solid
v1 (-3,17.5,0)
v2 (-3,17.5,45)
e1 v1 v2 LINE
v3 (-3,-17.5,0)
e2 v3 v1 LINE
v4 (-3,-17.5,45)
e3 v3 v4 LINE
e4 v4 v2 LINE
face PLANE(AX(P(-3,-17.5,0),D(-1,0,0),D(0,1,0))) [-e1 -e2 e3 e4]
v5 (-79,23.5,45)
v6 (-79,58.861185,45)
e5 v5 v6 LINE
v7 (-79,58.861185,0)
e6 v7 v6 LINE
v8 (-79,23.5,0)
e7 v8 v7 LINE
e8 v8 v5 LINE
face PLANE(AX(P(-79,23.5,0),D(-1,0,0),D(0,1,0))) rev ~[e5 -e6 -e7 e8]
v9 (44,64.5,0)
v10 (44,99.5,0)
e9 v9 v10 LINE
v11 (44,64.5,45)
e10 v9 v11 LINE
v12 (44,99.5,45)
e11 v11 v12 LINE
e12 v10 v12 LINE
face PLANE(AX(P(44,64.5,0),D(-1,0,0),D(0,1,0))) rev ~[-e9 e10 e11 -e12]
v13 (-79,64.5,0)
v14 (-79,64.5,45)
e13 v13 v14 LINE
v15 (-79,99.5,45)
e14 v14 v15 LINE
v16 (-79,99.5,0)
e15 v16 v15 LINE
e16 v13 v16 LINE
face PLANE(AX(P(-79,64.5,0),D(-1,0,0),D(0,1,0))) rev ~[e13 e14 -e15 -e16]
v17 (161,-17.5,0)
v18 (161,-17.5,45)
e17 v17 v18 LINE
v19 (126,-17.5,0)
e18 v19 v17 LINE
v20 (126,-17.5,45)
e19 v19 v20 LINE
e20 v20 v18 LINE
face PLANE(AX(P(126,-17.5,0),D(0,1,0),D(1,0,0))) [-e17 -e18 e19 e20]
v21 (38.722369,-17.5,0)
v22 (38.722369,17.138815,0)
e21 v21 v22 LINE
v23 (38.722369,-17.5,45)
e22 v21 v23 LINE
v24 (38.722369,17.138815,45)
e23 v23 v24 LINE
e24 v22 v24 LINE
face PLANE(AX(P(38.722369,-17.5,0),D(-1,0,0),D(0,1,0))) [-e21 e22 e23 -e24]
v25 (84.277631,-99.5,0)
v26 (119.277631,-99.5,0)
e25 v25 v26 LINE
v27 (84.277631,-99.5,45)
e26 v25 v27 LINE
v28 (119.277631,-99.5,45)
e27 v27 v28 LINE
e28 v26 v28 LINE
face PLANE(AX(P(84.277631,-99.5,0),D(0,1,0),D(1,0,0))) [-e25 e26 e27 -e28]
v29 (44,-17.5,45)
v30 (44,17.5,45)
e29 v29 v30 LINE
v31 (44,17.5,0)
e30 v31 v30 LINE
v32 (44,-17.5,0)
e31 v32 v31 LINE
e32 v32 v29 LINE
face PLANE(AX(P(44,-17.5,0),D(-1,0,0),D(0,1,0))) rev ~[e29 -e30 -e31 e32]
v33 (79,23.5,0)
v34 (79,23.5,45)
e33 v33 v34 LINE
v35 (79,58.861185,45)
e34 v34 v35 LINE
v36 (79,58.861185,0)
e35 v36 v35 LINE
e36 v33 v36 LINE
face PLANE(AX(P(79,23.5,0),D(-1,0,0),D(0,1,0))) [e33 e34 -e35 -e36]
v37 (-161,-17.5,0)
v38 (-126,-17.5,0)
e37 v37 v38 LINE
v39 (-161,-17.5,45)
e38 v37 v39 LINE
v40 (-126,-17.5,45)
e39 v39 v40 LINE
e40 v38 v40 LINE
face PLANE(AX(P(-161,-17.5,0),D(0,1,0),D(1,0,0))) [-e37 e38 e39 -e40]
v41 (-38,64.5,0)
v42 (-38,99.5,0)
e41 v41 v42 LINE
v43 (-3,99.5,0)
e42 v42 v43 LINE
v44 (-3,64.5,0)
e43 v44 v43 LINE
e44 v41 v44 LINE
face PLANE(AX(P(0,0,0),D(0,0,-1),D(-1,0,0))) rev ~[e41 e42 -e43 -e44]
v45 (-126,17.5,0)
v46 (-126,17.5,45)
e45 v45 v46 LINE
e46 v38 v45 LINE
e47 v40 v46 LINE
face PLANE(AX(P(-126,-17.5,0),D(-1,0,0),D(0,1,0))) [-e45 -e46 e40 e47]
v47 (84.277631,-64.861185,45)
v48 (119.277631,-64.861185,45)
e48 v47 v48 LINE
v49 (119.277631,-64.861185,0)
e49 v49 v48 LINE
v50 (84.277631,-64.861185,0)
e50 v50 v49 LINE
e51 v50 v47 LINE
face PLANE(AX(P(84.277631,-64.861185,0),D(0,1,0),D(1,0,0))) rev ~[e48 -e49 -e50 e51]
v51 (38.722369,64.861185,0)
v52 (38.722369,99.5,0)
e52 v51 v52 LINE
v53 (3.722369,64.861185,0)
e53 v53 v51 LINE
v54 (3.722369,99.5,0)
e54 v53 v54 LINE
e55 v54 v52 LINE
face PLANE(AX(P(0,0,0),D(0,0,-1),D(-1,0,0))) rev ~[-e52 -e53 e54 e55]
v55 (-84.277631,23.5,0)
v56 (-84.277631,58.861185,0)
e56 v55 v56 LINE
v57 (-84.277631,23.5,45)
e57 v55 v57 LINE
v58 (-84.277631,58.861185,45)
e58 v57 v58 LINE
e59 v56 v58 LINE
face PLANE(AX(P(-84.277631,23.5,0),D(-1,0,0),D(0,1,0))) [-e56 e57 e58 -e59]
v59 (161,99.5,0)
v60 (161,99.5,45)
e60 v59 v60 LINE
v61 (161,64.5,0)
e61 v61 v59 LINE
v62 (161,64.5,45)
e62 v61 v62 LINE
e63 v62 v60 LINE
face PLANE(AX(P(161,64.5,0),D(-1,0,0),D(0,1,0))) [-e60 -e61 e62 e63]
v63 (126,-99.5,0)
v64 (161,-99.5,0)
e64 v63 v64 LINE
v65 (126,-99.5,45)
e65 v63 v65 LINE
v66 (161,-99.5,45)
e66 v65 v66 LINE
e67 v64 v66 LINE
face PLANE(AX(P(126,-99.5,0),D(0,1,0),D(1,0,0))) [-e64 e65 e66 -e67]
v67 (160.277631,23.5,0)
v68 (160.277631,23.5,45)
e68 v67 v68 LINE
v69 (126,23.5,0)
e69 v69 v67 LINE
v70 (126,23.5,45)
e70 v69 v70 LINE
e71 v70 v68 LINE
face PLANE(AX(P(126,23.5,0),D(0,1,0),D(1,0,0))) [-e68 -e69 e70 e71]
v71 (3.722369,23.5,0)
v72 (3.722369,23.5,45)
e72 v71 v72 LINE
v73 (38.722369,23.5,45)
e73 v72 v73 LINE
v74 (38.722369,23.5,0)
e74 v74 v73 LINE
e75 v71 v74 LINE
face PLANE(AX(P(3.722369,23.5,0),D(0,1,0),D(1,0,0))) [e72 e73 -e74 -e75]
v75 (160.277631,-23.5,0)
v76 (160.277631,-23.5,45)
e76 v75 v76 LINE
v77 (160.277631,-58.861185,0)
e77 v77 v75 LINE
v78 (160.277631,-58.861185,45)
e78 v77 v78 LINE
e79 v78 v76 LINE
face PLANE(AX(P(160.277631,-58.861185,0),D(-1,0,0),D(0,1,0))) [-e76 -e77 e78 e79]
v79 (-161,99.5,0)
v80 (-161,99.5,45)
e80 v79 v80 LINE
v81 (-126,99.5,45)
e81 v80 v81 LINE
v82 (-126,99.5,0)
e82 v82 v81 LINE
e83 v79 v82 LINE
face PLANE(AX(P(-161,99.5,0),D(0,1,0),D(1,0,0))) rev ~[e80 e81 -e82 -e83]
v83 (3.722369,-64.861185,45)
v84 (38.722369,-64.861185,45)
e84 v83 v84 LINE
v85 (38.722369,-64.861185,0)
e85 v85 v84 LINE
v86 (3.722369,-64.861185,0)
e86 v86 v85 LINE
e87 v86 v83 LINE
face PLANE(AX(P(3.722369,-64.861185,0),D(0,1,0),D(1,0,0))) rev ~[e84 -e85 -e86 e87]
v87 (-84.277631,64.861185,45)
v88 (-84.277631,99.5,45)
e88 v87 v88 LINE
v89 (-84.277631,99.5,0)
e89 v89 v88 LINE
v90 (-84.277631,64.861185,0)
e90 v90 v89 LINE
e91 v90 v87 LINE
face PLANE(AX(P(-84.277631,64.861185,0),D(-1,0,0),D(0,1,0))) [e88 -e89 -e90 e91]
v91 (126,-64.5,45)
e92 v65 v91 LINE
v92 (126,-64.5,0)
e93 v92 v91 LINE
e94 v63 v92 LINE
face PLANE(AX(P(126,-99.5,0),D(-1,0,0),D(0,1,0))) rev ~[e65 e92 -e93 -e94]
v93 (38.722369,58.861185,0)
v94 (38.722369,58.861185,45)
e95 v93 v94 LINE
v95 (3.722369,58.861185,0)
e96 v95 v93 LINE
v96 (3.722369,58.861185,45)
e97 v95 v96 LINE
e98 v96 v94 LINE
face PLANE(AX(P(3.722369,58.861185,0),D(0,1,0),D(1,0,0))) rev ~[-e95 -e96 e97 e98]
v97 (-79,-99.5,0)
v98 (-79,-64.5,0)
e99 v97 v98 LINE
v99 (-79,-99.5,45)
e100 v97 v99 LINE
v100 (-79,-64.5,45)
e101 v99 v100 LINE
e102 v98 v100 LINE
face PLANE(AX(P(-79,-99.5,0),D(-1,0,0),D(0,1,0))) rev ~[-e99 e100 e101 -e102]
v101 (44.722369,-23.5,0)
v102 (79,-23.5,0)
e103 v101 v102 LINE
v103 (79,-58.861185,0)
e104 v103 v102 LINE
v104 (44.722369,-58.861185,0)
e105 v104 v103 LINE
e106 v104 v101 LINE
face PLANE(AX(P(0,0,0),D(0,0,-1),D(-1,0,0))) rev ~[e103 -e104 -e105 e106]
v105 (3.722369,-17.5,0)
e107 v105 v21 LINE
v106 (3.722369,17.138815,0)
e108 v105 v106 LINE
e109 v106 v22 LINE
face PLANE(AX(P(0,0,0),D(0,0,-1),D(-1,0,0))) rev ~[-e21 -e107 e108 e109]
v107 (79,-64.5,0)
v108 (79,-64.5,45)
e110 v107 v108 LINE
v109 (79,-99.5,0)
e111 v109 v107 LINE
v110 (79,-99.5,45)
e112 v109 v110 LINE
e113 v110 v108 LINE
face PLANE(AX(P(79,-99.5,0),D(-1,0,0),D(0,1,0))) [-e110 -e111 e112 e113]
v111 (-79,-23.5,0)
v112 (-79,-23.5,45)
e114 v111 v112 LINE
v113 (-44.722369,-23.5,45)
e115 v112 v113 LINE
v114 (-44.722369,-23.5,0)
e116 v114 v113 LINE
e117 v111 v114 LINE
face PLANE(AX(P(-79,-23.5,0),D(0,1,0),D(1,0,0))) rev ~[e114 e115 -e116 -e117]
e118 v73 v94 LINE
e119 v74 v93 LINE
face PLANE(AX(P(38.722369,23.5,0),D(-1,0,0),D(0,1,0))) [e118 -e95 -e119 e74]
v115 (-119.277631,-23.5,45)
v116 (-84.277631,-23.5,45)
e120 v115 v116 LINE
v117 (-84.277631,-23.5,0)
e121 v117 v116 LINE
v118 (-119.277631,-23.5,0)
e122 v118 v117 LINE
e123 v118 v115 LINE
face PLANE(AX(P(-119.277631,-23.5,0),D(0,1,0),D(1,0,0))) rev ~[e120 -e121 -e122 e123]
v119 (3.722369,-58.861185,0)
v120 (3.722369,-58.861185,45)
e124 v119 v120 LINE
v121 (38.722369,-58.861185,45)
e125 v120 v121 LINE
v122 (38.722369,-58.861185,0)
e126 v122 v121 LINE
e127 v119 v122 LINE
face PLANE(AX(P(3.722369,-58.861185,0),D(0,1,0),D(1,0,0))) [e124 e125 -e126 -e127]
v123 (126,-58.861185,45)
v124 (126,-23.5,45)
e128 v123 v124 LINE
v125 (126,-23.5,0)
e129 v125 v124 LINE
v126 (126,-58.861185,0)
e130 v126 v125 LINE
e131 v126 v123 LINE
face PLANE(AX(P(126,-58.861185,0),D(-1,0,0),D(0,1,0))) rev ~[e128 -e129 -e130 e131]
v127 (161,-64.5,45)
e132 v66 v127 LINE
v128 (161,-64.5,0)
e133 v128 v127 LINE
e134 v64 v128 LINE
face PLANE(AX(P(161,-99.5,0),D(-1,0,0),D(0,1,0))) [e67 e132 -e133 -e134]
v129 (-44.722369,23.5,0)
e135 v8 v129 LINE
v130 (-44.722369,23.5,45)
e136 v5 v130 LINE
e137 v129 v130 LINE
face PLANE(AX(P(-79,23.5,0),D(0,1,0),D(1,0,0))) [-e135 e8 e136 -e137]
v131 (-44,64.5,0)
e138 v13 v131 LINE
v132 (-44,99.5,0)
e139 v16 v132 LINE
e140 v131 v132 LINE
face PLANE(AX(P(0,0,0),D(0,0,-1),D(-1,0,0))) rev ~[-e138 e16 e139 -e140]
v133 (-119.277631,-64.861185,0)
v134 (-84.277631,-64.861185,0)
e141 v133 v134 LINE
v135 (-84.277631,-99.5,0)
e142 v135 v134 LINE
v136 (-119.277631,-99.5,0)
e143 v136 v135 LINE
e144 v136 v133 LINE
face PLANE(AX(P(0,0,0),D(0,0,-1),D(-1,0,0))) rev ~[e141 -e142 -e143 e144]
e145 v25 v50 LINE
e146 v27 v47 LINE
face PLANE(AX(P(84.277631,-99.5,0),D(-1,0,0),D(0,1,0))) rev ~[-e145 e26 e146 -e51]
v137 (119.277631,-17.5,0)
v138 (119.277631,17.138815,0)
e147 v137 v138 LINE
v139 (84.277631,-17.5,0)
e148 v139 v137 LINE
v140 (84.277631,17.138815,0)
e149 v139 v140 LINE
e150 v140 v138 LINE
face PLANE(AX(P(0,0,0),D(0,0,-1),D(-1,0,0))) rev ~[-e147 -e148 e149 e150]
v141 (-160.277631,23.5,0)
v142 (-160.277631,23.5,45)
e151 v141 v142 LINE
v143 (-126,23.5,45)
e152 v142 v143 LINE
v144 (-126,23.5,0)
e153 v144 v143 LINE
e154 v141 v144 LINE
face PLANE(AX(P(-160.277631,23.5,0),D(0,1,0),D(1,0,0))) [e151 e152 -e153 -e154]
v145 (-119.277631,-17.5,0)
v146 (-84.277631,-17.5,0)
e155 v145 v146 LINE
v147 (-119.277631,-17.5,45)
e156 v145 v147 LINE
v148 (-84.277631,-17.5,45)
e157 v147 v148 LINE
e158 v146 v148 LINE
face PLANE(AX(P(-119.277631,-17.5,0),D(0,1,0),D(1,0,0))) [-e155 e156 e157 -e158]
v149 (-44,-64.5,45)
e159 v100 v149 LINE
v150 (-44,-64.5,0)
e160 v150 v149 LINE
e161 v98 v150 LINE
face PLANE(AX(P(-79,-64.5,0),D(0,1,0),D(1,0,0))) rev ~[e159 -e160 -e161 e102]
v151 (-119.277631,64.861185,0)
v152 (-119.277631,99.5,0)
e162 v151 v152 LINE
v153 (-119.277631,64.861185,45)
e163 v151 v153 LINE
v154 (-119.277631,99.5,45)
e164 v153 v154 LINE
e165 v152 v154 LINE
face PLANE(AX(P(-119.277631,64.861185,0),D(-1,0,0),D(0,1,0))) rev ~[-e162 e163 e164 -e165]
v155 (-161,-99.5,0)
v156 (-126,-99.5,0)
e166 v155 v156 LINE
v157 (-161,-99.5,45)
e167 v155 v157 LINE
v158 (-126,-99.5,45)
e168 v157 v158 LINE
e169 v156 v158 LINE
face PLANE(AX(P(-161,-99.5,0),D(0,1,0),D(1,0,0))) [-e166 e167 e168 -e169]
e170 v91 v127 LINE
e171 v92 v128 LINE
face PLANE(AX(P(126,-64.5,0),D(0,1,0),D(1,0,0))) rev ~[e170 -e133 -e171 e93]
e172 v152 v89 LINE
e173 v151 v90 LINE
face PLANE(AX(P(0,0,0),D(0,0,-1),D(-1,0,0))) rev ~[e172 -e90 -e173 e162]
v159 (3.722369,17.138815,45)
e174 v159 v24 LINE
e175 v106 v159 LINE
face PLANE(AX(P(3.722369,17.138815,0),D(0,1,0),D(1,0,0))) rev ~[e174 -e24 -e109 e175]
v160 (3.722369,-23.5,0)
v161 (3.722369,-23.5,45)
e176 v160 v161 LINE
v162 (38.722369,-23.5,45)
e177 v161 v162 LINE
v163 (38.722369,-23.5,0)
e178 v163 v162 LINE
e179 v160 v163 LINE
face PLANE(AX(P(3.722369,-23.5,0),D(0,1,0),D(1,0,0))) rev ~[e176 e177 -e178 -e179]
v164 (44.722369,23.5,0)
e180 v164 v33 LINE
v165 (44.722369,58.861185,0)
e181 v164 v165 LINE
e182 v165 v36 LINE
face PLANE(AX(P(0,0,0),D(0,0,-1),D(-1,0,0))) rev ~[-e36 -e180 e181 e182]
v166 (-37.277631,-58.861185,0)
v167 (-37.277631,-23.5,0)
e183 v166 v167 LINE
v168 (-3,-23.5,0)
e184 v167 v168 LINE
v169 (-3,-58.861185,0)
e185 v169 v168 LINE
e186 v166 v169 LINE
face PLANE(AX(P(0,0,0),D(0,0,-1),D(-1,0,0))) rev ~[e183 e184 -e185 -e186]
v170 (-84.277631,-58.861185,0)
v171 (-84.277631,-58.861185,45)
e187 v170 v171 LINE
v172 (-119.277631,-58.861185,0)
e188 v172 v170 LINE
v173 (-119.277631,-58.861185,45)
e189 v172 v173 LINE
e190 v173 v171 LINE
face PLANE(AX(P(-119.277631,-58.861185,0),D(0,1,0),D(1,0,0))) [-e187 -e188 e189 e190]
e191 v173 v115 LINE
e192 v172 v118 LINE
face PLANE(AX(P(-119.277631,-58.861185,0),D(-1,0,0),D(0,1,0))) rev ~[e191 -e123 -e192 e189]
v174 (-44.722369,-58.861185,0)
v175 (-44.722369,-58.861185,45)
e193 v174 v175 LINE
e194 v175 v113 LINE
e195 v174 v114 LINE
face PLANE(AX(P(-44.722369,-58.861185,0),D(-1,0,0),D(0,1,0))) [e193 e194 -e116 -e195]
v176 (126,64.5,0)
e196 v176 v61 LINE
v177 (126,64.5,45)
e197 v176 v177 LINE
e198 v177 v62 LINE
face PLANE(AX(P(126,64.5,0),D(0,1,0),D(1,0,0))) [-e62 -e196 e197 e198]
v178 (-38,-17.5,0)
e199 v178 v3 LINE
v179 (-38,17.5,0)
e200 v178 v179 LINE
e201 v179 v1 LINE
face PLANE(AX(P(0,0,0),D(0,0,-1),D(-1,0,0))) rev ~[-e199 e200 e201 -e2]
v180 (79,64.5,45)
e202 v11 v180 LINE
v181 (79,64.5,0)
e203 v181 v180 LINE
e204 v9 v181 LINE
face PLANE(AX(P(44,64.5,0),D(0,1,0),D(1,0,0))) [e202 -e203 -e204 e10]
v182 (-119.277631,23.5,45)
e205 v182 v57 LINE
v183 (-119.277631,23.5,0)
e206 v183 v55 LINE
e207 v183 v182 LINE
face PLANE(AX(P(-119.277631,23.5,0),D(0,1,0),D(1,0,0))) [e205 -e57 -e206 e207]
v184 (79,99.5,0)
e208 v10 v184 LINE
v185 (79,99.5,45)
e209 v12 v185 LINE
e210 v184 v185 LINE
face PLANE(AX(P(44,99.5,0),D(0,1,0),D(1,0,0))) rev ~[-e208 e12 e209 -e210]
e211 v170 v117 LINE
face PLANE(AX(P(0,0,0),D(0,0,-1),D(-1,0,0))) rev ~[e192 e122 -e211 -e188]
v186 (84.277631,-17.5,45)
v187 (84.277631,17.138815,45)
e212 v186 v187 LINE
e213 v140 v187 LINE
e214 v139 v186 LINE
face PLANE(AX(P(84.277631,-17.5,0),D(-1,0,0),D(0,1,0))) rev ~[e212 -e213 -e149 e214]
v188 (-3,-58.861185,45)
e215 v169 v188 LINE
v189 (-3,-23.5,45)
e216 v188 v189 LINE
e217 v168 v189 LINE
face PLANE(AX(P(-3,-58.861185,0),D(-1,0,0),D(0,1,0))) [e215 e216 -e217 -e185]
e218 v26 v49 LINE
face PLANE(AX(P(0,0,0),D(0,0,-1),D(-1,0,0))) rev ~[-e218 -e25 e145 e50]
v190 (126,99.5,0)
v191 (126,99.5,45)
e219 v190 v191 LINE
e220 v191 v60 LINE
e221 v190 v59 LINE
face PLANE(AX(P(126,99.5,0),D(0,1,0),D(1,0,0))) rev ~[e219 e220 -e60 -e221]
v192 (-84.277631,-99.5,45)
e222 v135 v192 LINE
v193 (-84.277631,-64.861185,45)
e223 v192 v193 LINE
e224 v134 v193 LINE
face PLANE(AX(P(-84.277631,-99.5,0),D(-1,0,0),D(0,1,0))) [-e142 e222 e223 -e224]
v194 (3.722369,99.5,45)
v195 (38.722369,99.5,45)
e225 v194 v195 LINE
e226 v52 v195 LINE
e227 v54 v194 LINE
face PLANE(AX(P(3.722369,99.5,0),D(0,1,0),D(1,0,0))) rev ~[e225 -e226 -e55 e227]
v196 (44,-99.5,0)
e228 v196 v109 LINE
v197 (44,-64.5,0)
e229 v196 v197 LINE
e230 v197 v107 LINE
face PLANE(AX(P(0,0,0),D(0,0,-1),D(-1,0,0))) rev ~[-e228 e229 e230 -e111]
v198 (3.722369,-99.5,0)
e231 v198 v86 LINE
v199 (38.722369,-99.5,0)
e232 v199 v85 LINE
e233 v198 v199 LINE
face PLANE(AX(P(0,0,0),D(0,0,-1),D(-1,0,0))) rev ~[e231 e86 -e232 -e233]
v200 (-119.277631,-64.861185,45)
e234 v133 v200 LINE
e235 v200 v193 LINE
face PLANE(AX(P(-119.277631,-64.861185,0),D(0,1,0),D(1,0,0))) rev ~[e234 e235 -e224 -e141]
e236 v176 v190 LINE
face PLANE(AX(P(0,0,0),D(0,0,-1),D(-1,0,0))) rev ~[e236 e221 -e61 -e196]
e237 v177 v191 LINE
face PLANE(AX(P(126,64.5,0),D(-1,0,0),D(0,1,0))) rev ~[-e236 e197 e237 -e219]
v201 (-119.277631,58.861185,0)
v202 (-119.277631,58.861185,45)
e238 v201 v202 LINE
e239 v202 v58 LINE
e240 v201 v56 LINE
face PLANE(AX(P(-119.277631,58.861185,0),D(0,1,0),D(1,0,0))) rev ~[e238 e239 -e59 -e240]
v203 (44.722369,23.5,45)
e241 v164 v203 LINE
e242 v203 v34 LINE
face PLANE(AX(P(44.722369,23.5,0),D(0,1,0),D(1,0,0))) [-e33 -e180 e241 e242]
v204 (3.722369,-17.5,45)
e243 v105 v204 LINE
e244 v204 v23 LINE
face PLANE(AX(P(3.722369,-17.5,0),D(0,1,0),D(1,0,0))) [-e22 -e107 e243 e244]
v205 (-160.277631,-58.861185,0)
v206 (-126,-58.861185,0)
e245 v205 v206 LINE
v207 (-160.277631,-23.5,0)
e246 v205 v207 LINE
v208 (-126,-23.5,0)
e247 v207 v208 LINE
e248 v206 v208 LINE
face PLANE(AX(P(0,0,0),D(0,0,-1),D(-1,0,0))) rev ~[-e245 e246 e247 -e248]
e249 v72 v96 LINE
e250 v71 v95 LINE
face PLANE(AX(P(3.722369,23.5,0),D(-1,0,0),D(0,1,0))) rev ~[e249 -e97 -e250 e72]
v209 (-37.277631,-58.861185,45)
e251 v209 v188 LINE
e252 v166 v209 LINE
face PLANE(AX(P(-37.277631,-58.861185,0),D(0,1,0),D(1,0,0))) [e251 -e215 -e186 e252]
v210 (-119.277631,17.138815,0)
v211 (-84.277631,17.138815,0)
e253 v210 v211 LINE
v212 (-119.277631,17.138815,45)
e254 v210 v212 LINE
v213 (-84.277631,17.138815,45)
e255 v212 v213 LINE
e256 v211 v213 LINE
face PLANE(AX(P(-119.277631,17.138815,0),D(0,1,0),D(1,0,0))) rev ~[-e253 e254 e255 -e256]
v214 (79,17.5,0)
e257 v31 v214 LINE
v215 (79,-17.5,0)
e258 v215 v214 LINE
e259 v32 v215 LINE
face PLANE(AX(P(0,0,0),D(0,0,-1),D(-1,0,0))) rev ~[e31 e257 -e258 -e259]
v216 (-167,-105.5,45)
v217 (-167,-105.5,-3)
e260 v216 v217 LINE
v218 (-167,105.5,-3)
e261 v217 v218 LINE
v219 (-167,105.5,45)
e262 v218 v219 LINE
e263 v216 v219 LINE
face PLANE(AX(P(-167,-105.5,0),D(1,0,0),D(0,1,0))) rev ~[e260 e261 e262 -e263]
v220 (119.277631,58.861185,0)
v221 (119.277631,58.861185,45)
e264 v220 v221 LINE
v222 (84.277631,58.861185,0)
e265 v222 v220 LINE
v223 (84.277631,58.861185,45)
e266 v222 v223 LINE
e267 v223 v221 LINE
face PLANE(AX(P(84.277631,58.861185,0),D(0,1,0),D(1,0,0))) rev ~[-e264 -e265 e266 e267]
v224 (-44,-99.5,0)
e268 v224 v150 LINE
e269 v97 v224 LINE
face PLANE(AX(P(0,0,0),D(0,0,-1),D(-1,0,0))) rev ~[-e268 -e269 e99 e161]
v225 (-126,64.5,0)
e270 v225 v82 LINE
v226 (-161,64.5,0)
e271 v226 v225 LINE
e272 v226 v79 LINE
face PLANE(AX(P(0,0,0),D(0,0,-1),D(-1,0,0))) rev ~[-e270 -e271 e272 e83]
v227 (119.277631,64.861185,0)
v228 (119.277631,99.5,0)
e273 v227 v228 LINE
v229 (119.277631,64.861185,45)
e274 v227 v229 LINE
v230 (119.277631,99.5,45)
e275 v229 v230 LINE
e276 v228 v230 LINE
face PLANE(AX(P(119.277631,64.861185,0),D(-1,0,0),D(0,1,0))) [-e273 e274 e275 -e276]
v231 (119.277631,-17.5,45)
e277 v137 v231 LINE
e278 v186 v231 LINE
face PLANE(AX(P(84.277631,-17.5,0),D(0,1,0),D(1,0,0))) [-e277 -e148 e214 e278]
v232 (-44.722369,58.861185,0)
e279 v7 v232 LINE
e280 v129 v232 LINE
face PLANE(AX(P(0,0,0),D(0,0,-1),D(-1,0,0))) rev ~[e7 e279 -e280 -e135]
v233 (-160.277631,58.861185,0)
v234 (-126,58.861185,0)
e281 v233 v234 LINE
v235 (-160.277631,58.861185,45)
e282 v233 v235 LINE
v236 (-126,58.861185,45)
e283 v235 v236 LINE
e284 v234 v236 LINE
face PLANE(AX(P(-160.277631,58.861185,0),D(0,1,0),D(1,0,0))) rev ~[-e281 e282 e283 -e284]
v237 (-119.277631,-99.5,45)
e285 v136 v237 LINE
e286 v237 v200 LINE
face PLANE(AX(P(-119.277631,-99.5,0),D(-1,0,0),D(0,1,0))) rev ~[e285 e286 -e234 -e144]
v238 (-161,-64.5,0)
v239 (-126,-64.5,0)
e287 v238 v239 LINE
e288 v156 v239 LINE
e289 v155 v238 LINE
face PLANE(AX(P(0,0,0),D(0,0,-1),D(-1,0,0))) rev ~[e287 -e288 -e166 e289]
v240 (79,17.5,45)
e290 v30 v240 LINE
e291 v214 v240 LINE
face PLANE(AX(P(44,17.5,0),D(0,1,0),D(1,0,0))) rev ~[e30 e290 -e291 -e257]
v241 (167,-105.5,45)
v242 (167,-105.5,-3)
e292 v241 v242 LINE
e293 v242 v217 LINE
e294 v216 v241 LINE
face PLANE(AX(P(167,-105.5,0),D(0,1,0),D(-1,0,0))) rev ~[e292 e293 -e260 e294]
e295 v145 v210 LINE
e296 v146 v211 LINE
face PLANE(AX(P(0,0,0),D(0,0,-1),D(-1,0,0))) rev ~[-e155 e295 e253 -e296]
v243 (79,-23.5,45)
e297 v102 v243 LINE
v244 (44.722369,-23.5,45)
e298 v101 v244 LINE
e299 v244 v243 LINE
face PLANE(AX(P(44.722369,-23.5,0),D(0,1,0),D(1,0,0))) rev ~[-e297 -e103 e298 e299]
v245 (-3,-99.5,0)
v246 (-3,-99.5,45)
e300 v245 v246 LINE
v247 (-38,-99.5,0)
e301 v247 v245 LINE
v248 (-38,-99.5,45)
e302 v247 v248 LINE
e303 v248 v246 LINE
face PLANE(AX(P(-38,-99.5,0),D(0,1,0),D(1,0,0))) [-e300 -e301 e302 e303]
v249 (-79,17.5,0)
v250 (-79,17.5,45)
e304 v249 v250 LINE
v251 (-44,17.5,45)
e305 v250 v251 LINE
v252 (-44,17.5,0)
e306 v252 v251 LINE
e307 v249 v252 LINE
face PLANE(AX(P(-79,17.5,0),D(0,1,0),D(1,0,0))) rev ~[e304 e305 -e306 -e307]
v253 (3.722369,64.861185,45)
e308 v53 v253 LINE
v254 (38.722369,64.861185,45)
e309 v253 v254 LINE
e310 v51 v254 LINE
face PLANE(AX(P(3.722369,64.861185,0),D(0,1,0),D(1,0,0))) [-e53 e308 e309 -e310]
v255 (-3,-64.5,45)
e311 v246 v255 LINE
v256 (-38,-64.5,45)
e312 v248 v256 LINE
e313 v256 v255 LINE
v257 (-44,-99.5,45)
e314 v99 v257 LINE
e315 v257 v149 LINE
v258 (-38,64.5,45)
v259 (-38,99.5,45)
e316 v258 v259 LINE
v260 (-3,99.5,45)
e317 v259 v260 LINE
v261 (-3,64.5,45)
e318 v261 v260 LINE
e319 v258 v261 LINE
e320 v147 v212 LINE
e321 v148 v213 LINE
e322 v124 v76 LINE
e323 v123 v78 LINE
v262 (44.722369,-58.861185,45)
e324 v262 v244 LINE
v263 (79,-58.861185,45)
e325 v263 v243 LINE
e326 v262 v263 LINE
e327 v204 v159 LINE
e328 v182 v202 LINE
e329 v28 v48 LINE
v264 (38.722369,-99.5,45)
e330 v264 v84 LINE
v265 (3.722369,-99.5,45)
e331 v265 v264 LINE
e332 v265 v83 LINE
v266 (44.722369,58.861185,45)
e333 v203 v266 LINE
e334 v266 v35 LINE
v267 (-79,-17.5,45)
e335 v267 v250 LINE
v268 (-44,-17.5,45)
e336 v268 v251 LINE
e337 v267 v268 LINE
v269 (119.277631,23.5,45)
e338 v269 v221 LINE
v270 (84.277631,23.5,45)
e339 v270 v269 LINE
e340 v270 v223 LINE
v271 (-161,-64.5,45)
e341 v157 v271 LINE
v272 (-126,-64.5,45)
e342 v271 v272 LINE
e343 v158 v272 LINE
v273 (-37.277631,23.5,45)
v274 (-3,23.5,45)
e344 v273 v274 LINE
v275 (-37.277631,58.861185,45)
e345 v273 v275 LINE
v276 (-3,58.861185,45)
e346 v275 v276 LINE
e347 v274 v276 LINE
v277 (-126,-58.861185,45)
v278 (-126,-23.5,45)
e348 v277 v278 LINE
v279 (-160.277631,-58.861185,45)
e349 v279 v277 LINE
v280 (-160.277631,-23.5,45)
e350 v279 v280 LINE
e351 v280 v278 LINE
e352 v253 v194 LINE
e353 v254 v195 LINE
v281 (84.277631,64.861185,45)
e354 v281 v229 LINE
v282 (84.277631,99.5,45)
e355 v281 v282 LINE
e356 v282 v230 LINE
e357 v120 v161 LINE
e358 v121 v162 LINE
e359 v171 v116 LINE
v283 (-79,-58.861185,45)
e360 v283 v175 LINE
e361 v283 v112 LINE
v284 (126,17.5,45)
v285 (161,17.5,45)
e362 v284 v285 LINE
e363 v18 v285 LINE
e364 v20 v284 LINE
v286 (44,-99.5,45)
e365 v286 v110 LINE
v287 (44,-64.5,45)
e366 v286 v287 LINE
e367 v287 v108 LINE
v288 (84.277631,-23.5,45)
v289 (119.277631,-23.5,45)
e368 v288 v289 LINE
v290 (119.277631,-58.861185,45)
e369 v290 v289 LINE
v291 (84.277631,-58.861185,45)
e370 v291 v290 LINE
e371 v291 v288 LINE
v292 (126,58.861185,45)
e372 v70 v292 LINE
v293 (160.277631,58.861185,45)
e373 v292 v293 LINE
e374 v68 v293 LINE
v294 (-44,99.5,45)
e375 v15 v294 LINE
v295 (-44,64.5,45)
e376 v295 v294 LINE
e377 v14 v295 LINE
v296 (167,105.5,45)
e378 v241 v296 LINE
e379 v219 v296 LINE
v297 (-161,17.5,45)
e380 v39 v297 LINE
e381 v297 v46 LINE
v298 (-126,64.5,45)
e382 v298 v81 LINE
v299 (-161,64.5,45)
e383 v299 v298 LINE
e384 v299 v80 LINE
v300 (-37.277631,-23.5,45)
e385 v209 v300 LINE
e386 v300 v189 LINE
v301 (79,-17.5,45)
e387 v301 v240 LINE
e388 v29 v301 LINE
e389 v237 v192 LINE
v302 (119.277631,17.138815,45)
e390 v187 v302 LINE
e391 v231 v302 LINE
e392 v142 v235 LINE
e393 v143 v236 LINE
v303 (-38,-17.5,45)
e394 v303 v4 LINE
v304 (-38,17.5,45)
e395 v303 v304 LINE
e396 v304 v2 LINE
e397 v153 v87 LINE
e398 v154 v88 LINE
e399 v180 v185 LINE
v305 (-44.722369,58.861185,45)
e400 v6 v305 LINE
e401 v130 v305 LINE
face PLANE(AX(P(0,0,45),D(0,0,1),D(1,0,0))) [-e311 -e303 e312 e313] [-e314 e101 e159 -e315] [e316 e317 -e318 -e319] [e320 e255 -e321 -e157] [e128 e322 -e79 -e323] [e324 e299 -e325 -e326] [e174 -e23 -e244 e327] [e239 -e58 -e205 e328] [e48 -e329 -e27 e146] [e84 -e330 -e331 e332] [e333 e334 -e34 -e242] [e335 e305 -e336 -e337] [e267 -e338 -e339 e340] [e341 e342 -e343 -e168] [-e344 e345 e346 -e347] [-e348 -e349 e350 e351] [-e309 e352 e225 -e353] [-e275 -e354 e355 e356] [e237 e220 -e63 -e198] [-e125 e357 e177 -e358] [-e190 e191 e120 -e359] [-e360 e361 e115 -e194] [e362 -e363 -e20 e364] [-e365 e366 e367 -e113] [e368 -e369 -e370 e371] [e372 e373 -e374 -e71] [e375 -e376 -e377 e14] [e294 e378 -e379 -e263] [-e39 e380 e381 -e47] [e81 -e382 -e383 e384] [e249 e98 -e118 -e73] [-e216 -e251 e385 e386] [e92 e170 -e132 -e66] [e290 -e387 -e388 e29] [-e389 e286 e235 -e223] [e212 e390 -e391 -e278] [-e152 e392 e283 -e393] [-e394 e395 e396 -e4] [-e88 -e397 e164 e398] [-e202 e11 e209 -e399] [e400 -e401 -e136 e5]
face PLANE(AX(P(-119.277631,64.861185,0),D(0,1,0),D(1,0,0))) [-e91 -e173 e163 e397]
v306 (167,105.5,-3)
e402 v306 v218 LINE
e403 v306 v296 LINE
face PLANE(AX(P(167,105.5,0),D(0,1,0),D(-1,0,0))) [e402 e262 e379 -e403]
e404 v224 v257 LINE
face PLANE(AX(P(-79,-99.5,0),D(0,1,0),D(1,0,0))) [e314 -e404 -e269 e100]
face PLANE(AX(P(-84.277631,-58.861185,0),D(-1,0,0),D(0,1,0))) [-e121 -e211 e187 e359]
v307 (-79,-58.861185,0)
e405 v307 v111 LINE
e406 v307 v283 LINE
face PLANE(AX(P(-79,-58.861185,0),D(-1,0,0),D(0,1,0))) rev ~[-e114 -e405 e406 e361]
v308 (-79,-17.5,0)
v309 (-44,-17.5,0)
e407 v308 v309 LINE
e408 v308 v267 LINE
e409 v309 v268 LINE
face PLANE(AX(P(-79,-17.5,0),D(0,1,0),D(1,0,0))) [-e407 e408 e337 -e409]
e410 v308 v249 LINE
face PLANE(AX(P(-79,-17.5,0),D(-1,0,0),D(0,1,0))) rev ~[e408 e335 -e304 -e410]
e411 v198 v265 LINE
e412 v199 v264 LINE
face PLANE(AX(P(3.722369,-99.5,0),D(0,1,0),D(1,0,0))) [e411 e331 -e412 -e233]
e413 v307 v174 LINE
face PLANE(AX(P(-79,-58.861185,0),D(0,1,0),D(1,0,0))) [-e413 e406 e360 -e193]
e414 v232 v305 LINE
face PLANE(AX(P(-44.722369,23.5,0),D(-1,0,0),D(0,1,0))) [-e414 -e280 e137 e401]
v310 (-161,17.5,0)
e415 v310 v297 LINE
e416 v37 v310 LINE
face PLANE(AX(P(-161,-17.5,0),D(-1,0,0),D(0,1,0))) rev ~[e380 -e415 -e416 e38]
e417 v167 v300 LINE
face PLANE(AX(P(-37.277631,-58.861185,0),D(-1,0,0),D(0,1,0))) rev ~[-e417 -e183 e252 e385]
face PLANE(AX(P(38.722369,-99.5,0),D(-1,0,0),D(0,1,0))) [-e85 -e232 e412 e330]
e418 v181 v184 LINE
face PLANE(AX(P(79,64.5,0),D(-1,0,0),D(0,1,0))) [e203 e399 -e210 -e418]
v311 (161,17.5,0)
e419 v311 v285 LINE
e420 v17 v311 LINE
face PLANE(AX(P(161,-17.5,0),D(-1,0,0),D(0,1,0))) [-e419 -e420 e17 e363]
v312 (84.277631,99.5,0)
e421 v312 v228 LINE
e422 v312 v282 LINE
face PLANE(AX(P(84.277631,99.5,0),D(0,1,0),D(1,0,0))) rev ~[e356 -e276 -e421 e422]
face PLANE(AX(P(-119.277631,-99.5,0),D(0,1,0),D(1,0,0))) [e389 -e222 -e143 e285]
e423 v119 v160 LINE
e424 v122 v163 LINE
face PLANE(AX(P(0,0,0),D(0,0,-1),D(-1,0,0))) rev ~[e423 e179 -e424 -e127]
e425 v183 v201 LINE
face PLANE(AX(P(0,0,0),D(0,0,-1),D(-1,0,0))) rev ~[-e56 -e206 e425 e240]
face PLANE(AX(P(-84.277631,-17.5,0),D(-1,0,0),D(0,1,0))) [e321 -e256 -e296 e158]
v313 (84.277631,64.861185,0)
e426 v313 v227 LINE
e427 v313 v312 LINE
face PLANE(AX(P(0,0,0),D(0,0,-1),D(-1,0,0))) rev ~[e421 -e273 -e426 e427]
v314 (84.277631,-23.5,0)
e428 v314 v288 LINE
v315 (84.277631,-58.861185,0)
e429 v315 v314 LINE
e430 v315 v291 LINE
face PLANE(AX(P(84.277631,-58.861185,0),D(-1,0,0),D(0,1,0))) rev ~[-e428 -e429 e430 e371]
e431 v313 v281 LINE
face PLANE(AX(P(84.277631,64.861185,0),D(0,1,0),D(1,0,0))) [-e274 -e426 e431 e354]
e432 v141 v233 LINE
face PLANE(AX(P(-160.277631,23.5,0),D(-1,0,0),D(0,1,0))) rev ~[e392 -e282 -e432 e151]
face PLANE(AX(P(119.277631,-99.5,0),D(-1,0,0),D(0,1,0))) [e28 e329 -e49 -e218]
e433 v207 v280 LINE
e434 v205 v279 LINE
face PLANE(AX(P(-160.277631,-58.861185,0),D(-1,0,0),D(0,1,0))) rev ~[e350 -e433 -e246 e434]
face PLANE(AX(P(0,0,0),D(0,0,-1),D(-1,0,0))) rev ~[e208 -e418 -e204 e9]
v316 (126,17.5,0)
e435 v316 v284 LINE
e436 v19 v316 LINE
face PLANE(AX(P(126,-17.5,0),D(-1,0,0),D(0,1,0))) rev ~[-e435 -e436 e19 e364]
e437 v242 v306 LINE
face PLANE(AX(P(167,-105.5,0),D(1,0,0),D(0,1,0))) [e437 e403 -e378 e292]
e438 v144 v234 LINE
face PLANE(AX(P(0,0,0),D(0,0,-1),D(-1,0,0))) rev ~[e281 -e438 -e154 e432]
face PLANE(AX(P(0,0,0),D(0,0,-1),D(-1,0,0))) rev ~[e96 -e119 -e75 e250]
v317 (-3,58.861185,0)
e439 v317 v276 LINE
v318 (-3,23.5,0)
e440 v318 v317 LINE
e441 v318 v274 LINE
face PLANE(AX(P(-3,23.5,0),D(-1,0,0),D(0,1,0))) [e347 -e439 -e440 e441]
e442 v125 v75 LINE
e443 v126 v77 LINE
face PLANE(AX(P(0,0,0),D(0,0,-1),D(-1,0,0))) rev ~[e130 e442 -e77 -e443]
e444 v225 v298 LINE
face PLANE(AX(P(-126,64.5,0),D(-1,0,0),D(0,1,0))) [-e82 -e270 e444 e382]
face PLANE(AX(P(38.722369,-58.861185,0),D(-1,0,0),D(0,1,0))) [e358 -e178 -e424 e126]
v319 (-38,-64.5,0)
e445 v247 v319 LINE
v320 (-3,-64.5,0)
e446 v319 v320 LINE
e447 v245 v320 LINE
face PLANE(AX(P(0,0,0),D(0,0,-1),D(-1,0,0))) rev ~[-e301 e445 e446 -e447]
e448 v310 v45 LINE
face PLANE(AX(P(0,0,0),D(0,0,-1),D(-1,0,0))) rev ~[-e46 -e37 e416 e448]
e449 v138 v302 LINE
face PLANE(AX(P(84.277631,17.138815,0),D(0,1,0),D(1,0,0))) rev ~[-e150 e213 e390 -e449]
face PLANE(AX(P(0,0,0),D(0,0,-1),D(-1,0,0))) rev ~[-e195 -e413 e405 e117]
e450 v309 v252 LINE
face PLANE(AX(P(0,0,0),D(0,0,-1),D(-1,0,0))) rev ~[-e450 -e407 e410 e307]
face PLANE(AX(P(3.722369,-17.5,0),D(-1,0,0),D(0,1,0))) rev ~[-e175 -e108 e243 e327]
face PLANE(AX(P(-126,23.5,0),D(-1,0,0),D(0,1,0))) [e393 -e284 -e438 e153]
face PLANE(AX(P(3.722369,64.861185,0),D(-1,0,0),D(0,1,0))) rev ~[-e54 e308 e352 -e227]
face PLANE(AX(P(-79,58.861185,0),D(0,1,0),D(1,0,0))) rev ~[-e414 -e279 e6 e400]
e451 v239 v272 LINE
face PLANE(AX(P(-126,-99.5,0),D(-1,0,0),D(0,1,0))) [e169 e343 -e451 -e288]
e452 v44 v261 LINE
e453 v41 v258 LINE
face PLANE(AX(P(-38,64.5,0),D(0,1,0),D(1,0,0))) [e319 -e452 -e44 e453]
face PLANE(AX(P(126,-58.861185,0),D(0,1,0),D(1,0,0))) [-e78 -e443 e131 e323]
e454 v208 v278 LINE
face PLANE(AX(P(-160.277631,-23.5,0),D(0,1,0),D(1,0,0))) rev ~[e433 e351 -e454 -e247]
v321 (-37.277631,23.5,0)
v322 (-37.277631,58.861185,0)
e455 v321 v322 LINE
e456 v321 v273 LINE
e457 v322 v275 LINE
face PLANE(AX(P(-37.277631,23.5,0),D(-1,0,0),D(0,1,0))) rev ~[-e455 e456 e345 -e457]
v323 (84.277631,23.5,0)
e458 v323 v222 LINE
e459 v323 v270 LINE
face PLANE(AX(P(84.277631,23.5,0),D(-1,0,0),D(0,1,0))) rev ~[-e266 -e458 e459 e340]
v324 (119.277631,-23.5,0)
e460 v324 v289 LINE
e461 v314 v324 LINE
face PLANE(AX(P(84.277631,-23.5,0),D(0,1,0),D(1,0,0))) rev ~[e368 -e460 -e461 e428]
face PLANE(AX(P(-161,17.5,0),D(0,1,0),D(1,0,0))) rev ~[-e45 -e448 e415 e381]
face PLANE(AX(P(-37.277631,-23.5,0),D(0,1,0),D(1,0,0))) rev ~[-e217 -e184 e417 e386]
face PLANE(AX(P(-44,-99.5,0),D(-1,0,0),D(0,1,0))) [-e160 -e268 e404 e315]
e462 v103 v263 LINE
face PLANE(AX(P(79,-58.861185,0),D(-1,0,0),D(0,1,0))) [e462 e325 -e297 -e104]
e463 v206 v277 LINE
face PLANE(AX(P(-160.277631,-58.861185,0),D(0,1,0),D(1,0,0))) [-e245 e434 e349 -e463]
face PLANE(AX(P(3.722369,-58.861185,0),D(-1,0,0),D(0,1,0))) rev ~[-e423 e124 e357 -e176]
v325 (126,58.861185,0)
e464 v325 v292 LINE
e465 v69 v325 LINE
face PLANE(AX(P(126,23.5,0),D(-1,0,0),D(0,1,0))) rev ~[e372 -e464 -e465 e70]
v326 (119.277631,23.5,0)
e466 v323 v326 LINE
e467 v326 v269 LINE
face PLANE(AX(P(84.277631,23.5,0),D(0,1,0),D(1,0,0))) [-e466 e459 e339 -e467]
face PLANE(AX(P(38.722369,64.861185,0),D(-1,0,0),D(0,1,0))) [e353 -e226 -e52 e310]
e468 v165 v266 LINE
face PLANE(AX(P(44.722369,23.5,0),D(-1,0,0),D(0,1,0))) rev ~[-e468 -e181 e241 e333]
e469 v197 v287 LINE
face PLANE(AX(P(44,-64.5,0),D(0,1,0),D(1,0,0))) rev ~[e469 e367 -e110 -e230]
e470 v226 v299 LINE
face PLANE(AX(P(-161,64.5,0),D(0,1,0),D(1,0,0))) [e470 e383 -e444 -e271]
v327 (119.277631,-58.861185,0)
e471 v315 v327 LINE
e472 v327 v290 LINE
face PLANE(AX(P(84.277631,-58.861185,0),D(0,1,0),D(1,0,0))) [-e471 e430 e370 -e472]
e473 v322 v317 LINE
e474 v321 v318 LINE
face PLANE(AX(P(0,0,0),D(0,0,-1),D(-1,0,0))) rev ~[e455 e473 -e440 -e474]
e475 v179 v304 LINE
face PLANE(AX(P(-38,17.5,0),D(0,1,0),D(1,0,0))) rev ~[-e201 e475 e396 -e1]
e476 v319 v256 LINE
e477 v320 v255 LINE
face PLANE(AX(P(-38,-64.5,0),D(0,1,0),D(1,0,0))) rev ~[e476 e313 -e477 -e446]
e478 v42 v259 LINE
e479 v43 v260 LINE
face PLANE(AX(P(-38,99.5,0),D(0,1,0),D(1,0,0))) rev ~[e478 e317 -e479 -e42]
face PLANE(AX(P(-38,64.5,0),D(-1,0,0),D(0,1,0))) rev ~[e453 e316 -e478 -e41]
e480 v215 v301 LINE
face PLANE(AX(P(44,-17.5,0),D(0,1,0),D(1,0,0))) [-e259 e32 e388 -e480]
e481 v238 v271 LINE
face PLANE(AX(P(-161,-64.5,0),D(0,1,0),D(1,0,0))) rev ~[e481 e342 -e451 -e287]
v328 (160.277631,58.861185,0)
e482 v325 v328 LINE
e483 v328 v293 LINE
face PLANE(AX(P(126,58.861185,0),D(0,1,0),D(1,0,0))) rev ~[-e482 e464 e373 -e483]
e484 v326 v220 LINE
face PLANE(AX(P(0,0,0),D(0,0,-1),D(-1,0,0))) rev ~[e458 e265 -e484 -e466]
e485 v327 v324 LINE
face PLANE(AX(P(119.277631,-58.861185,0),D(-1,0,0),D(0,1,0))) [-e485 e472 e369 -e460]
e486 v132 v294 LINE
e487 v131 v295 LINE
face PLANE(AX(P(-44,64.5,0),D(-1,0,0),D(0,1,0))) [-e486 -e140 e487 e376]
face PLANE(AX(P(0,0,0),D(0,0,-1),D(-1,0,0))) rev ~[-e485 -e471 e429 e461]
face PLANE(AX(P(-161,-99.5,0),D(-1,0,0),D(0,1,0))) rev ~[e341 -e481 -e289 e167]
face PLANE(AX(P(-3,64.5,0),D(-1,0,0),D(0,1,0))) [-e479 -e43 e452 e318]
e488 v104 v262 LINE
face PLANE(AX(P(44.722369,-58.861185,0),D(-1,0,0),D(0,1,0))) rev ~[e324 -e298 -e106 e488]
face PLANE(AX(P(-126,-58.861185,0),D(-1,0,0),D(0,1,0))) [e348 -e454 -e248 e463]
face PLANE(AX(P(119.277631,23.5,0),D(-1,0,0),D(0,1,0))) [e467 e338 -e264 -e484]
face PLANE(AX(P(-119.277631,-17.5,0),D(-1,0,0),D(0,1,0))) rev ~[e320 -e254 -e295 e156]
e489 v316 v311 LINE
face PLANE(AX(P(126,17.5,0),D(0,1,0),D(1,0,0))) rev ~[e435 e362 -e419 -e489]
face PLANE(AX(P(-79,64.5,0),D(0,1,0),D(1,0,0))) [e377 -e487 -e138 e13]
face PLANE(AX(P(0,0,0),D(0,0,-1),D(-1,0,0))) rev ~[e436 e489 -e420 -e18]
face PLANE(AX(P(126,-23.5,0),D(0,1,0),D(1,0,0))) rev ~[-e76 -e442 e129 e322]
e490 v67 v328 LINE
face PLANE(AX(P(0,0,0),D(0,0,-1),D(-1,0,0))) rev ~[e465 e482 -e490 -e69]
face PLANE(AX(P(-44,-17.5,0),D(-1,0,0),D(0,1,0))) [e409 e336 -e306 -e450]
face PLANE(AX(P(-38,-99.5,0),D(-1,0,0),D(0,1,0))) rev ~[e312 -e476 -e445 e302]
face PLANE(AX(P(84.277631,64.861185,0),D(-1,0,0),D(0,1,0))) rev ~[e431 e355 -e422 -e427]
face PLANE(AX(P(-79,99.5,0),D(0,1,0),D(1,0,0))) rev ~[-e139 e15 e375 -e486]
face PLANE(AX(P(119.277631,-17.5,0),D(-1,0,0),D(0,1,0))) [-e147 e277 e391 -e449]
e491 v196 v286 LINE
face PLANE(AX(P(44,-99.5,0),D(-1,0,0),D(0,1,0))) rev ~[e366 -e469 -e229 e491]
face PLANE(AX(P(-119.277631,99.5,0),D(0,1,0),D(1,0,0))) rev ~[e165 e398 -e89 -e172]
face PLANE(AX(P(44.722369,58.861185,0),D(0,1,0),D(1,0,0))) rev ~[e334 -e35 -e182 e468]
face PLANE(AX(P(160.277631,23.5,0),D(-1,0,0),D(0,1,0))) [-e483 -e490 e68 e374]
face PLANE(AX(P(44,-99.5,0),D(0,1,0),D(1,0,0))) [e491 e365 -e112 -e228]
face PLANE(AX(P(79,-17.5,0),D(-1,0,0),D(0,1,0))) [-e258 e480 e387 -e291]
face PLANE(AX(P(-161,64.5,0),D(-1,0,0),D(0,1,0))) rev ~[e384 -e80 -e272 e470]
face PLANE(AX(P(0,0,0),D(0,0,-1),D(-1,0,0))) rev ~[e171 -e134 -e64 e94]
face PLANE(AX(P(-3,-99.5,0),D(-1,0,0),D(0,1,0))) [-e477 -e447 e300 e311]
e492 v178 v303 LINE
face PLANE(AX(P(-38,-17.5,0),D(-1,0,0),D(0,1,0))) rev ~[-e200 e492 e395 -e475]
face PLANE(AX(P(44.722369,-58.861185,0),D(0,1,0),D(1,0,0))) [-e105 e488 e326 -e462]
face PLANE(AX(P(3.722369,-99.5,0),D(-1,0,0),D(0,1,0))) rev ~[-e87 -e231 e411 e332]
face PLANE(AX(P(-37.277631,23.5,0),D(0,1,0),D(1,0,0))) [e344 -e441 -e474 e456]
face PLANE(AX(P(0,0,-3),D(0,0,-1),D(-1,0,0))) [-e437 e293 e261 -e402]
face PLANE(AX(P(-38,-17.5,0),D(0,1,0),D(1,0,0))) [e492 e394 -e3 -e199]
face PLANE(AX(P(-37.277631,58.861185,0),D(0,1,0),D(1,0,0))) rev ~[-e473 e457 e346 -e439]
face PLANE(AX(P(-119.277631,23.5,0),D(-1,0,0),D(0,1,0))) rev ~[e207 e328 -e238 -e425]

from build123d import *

# Parameters (mm, degrees)
SKETCH1_W           = 334
SKETCH1_H           = 211
SKETCH1_W_2         = 34.277630703
SKETCH1_H_2         = 35.361184648
SKETCH1_W_3         = 35
SKETCH1_H_3         = 35
SKETCH1_H_4         = 34.638815352
BOSS_EXTRUDE1_DEPTH = 45
SKETCH2_W           = 334
SKETCH2_H           = 211
BOSS_EXTRUDE2_DEPTH = 3


with BuildPart() as part:
    # Sketch1 → Boss-Extrude1 (new body)
    with BuildSketch(Plane.XY):
        Rectangle(SKETCH1_W, SKETCH1_H)
        with Locations((143.138815351, 41.180592324)):
            Rectangle(SKETCH1_W_2, SKETCH1_H_2, mode=Mode.SUBTRACT)
        with Locations((143.5, 82)):
            Rectangle(SKETCH1_W_3, SKETCH1_H_3, mode=Mode.SUBTRACT)
        with Locations((61.5, 82)):
            Rectangle(SKETCH1_W_3, SKETCH1_H_3, mode=Mode.SUBTRACT)
        with Locations((61.861184649, 41.180592324)):
            Rectangle(SKETCH1_W_2, SKETCH1_H_2, mode=Mode.SUBTRACT)
        with Locations((101.777630703, 82.180592324)):
            Rectangle(SKETCH1_W_3, SKETCH1_H_4, mode=Mode.SUBTRACT)
        with Locations((101.777630703, 41.180592324)):
            Rectangle(SKETCH1_W_3, SKETCH1_H_2, mode=Mode.SUBTRACT)
        with Locations((143.138815351, -41.180592324)):
            Rectangle(SKETCH1_W_2, SKETCH1_H_2, mode=Mode.SUBTRACT)
        with Locations((101.777630703, -41.180592324)):
            Rectangle(SKETCH1_W_3, SKETCH1_H_2, mode=Mode.SUBTRACT)
        with Locations((61.861184649, -41.180592324)):
            Rectangle(SKETCH1_W_2, SKETCH1_H_2, mode=Mode.SUBTRACT)
        with Locations((61.5, -82)):
            Rectangle(SKETCH1_W_3, SKETCH1_H_3, mode=Mode.SUBTRACT)
        with Locations((101.777630703, -82.180592324)):
            Rectangle(SKETCH1_W_3, SKETCH1_H_4, mode=Mode.SUBTRACT)
        with Locations((143.5, -82)):
            Rectangle(SKETCH1_W_3, SKETCH1_H_3, mode=Mode.SUBTRACT)
        with Locations((-143.5, -82)):
            Rectangle(SKETCH1_W_3, SKETCH1_H_3, mode=Mode.SUBTRACT)
        with Locations((-101.777630703, -82.180592324)):
            Rectangle(SKETCH1_W_3, SKETCH1_H_4, mode=Mode.SUBTRACT)
        with Locations((-61.5, -82)):
            Rectangle(SKETCH1_W_3, SKETCH1_H_3, mode=Mode.SUBTRACT)
        with Locations((-61.861184649, -41.180592324)):
            Rectangle(SKETCH1_W_2, SKETCH1_H_2, mode=Mode.SUBTRACT)
        with Locations((-101.777630703, -41.180592324)):
            Rectangle(SKETCH1_W_3, SKETCH1_H_2, mode=Mode.SUBTRACT)
        with Locations((-143.138815351, -41.180592324)):
            Rectangle(SKETCH1_W_2, SKETCH1_H_2, mode=Mode.SUBTRACT)
        with Locations((-143.138815351, 41.180592324)):
            Rectangle(SKETCH1_W_2, SKETCH1_H_2, mode=Mode.SUBTRACT)
        with Locations((-101.777630703, 41.180592324)):
            Rectangle(SKETCH1_W_3, SKETCH1_H_2, mode=Mode.SUBTRACT)
        with Locations((-61.861184649, 41.180592324)):
            Rectangle(SKETCH1_W_2, SKETCH1_H_2, mode=Mode.SUBTRACT)
        with Locations((-61.5, 82)):
            Rectangle(SKETCH1_W_3, SKETCH1_H_3, mode=Mode.SUBTRACT)
        with Locations((-101.777630703, 82.180592324)):
            Rectangle(SKETCH1_W_3, SKETCH1_H_4, mode=Mode.SUBTRACT)
        with Locations((-143.5, 82)):
            Rectangle(SKETCH1_W_3, SKETCH1_H_3, mode=Mode.SUBTRACT)
        with Locations((61.5, 0)):
            Rectangle(SKETCH1_W_3, SKETCH1_H_3, mode=Mode.SUBTRACT)
        with Locations((101.777630703, -0.180592324)):
            Rectangle(SKETCH1_W_3, SKETCH1_H_4, mode=Mode.SUBTRACT)
        with Locations((143.5, 0)):
            Rectangle(SKETCH1_W_3, SKETCH1_H_3, mode=Mode.SUBTRACT)
        with Locations((-143.5, 0)):
            Rectangle(SKETCH1_W_3, SKETCH1_H_3, mode=Mode.SUBTRACT)
        with Locations((-101.777630703, -0.180592324)):
            Rectangle(SKETCH1_W_3, SKETCH1_H_4, mode=Mode.SUBTRACT)
        with Locations((-61.5, 0)):
            Rectangle(SKETCH1_W_3, SKETCH1_H_3, mode=Mode.SUBTRACT)
        with Locations((-20.5, 82)):
            Rectangle(SKETCH1_W_3, SKETCH1_H_3, mode=Mode.SUBTRACT)
        with Locations((-20.138815351, 41.180592324)):
            Rectangle(SKETCH1_W_2, SKETCH1_H_2, mode=Mode.SUBTRACT)
        with Locations((-20.5, 0)):
            Rectangle(SKETCH1_W_3, SKETCH1_H_3, mode=Mode.SUBTRACT)
        with Locations((-20.138815351, -41.180592324)):
            Rectangle(SKETCH1_W_2, SKETCH1_H_2, mode=Mode.SUBTRACT)
        with Locations((-20.5, -82)):
            Rectangle(SKETCH1_W_3, SKETCH1_H_3, mode=Mode.SUBTRACT)
        with Locations((21.222369297, -82.180592324)):
            Rectangle(SKETCH1_W_3, SKETCH1_H_4, mode=Mode.SUBTRACT)
        with Locations((21.222369297, -41.180592324)):
            Rectangle(SKETCH1_W_3, SKETCH1_H_2, mode=Mode.SUBTRACT)
        with Locations((21.222369297, -0.180592324)):
            Rectangle(SKETCH1_W_3, SKETCH1_H_4, mode=Mode.SUBTRACT)
        with Locations((21.222369297, 41.180592324)):
            Rectangle(SKETCH1_W_3, SKETCH1_H_2, mode=Mode.SUBTRACT)
        with Locations((21.222369297, 82.180592324)):
            Rectangle(SKETCH1_W_3, SKETCH1_H_4, mode=Mode.SUBTRACT)
    extrude(amount=BOSS_EXTRUDE1_DEPTH)

    # Sketch2 → Boss-Extrude2 (add)
    with BuildSketch(Plane(origin=(0, 0, 0), x_dir=(-1, 0, 0), z_dir=(0, 0, -1))):
        Rectangle(SKETCH2_W, SKETCH2_H)
    extrude(amount=BOSS_EXTRUDE2_DEPTH)


solid = part.part
